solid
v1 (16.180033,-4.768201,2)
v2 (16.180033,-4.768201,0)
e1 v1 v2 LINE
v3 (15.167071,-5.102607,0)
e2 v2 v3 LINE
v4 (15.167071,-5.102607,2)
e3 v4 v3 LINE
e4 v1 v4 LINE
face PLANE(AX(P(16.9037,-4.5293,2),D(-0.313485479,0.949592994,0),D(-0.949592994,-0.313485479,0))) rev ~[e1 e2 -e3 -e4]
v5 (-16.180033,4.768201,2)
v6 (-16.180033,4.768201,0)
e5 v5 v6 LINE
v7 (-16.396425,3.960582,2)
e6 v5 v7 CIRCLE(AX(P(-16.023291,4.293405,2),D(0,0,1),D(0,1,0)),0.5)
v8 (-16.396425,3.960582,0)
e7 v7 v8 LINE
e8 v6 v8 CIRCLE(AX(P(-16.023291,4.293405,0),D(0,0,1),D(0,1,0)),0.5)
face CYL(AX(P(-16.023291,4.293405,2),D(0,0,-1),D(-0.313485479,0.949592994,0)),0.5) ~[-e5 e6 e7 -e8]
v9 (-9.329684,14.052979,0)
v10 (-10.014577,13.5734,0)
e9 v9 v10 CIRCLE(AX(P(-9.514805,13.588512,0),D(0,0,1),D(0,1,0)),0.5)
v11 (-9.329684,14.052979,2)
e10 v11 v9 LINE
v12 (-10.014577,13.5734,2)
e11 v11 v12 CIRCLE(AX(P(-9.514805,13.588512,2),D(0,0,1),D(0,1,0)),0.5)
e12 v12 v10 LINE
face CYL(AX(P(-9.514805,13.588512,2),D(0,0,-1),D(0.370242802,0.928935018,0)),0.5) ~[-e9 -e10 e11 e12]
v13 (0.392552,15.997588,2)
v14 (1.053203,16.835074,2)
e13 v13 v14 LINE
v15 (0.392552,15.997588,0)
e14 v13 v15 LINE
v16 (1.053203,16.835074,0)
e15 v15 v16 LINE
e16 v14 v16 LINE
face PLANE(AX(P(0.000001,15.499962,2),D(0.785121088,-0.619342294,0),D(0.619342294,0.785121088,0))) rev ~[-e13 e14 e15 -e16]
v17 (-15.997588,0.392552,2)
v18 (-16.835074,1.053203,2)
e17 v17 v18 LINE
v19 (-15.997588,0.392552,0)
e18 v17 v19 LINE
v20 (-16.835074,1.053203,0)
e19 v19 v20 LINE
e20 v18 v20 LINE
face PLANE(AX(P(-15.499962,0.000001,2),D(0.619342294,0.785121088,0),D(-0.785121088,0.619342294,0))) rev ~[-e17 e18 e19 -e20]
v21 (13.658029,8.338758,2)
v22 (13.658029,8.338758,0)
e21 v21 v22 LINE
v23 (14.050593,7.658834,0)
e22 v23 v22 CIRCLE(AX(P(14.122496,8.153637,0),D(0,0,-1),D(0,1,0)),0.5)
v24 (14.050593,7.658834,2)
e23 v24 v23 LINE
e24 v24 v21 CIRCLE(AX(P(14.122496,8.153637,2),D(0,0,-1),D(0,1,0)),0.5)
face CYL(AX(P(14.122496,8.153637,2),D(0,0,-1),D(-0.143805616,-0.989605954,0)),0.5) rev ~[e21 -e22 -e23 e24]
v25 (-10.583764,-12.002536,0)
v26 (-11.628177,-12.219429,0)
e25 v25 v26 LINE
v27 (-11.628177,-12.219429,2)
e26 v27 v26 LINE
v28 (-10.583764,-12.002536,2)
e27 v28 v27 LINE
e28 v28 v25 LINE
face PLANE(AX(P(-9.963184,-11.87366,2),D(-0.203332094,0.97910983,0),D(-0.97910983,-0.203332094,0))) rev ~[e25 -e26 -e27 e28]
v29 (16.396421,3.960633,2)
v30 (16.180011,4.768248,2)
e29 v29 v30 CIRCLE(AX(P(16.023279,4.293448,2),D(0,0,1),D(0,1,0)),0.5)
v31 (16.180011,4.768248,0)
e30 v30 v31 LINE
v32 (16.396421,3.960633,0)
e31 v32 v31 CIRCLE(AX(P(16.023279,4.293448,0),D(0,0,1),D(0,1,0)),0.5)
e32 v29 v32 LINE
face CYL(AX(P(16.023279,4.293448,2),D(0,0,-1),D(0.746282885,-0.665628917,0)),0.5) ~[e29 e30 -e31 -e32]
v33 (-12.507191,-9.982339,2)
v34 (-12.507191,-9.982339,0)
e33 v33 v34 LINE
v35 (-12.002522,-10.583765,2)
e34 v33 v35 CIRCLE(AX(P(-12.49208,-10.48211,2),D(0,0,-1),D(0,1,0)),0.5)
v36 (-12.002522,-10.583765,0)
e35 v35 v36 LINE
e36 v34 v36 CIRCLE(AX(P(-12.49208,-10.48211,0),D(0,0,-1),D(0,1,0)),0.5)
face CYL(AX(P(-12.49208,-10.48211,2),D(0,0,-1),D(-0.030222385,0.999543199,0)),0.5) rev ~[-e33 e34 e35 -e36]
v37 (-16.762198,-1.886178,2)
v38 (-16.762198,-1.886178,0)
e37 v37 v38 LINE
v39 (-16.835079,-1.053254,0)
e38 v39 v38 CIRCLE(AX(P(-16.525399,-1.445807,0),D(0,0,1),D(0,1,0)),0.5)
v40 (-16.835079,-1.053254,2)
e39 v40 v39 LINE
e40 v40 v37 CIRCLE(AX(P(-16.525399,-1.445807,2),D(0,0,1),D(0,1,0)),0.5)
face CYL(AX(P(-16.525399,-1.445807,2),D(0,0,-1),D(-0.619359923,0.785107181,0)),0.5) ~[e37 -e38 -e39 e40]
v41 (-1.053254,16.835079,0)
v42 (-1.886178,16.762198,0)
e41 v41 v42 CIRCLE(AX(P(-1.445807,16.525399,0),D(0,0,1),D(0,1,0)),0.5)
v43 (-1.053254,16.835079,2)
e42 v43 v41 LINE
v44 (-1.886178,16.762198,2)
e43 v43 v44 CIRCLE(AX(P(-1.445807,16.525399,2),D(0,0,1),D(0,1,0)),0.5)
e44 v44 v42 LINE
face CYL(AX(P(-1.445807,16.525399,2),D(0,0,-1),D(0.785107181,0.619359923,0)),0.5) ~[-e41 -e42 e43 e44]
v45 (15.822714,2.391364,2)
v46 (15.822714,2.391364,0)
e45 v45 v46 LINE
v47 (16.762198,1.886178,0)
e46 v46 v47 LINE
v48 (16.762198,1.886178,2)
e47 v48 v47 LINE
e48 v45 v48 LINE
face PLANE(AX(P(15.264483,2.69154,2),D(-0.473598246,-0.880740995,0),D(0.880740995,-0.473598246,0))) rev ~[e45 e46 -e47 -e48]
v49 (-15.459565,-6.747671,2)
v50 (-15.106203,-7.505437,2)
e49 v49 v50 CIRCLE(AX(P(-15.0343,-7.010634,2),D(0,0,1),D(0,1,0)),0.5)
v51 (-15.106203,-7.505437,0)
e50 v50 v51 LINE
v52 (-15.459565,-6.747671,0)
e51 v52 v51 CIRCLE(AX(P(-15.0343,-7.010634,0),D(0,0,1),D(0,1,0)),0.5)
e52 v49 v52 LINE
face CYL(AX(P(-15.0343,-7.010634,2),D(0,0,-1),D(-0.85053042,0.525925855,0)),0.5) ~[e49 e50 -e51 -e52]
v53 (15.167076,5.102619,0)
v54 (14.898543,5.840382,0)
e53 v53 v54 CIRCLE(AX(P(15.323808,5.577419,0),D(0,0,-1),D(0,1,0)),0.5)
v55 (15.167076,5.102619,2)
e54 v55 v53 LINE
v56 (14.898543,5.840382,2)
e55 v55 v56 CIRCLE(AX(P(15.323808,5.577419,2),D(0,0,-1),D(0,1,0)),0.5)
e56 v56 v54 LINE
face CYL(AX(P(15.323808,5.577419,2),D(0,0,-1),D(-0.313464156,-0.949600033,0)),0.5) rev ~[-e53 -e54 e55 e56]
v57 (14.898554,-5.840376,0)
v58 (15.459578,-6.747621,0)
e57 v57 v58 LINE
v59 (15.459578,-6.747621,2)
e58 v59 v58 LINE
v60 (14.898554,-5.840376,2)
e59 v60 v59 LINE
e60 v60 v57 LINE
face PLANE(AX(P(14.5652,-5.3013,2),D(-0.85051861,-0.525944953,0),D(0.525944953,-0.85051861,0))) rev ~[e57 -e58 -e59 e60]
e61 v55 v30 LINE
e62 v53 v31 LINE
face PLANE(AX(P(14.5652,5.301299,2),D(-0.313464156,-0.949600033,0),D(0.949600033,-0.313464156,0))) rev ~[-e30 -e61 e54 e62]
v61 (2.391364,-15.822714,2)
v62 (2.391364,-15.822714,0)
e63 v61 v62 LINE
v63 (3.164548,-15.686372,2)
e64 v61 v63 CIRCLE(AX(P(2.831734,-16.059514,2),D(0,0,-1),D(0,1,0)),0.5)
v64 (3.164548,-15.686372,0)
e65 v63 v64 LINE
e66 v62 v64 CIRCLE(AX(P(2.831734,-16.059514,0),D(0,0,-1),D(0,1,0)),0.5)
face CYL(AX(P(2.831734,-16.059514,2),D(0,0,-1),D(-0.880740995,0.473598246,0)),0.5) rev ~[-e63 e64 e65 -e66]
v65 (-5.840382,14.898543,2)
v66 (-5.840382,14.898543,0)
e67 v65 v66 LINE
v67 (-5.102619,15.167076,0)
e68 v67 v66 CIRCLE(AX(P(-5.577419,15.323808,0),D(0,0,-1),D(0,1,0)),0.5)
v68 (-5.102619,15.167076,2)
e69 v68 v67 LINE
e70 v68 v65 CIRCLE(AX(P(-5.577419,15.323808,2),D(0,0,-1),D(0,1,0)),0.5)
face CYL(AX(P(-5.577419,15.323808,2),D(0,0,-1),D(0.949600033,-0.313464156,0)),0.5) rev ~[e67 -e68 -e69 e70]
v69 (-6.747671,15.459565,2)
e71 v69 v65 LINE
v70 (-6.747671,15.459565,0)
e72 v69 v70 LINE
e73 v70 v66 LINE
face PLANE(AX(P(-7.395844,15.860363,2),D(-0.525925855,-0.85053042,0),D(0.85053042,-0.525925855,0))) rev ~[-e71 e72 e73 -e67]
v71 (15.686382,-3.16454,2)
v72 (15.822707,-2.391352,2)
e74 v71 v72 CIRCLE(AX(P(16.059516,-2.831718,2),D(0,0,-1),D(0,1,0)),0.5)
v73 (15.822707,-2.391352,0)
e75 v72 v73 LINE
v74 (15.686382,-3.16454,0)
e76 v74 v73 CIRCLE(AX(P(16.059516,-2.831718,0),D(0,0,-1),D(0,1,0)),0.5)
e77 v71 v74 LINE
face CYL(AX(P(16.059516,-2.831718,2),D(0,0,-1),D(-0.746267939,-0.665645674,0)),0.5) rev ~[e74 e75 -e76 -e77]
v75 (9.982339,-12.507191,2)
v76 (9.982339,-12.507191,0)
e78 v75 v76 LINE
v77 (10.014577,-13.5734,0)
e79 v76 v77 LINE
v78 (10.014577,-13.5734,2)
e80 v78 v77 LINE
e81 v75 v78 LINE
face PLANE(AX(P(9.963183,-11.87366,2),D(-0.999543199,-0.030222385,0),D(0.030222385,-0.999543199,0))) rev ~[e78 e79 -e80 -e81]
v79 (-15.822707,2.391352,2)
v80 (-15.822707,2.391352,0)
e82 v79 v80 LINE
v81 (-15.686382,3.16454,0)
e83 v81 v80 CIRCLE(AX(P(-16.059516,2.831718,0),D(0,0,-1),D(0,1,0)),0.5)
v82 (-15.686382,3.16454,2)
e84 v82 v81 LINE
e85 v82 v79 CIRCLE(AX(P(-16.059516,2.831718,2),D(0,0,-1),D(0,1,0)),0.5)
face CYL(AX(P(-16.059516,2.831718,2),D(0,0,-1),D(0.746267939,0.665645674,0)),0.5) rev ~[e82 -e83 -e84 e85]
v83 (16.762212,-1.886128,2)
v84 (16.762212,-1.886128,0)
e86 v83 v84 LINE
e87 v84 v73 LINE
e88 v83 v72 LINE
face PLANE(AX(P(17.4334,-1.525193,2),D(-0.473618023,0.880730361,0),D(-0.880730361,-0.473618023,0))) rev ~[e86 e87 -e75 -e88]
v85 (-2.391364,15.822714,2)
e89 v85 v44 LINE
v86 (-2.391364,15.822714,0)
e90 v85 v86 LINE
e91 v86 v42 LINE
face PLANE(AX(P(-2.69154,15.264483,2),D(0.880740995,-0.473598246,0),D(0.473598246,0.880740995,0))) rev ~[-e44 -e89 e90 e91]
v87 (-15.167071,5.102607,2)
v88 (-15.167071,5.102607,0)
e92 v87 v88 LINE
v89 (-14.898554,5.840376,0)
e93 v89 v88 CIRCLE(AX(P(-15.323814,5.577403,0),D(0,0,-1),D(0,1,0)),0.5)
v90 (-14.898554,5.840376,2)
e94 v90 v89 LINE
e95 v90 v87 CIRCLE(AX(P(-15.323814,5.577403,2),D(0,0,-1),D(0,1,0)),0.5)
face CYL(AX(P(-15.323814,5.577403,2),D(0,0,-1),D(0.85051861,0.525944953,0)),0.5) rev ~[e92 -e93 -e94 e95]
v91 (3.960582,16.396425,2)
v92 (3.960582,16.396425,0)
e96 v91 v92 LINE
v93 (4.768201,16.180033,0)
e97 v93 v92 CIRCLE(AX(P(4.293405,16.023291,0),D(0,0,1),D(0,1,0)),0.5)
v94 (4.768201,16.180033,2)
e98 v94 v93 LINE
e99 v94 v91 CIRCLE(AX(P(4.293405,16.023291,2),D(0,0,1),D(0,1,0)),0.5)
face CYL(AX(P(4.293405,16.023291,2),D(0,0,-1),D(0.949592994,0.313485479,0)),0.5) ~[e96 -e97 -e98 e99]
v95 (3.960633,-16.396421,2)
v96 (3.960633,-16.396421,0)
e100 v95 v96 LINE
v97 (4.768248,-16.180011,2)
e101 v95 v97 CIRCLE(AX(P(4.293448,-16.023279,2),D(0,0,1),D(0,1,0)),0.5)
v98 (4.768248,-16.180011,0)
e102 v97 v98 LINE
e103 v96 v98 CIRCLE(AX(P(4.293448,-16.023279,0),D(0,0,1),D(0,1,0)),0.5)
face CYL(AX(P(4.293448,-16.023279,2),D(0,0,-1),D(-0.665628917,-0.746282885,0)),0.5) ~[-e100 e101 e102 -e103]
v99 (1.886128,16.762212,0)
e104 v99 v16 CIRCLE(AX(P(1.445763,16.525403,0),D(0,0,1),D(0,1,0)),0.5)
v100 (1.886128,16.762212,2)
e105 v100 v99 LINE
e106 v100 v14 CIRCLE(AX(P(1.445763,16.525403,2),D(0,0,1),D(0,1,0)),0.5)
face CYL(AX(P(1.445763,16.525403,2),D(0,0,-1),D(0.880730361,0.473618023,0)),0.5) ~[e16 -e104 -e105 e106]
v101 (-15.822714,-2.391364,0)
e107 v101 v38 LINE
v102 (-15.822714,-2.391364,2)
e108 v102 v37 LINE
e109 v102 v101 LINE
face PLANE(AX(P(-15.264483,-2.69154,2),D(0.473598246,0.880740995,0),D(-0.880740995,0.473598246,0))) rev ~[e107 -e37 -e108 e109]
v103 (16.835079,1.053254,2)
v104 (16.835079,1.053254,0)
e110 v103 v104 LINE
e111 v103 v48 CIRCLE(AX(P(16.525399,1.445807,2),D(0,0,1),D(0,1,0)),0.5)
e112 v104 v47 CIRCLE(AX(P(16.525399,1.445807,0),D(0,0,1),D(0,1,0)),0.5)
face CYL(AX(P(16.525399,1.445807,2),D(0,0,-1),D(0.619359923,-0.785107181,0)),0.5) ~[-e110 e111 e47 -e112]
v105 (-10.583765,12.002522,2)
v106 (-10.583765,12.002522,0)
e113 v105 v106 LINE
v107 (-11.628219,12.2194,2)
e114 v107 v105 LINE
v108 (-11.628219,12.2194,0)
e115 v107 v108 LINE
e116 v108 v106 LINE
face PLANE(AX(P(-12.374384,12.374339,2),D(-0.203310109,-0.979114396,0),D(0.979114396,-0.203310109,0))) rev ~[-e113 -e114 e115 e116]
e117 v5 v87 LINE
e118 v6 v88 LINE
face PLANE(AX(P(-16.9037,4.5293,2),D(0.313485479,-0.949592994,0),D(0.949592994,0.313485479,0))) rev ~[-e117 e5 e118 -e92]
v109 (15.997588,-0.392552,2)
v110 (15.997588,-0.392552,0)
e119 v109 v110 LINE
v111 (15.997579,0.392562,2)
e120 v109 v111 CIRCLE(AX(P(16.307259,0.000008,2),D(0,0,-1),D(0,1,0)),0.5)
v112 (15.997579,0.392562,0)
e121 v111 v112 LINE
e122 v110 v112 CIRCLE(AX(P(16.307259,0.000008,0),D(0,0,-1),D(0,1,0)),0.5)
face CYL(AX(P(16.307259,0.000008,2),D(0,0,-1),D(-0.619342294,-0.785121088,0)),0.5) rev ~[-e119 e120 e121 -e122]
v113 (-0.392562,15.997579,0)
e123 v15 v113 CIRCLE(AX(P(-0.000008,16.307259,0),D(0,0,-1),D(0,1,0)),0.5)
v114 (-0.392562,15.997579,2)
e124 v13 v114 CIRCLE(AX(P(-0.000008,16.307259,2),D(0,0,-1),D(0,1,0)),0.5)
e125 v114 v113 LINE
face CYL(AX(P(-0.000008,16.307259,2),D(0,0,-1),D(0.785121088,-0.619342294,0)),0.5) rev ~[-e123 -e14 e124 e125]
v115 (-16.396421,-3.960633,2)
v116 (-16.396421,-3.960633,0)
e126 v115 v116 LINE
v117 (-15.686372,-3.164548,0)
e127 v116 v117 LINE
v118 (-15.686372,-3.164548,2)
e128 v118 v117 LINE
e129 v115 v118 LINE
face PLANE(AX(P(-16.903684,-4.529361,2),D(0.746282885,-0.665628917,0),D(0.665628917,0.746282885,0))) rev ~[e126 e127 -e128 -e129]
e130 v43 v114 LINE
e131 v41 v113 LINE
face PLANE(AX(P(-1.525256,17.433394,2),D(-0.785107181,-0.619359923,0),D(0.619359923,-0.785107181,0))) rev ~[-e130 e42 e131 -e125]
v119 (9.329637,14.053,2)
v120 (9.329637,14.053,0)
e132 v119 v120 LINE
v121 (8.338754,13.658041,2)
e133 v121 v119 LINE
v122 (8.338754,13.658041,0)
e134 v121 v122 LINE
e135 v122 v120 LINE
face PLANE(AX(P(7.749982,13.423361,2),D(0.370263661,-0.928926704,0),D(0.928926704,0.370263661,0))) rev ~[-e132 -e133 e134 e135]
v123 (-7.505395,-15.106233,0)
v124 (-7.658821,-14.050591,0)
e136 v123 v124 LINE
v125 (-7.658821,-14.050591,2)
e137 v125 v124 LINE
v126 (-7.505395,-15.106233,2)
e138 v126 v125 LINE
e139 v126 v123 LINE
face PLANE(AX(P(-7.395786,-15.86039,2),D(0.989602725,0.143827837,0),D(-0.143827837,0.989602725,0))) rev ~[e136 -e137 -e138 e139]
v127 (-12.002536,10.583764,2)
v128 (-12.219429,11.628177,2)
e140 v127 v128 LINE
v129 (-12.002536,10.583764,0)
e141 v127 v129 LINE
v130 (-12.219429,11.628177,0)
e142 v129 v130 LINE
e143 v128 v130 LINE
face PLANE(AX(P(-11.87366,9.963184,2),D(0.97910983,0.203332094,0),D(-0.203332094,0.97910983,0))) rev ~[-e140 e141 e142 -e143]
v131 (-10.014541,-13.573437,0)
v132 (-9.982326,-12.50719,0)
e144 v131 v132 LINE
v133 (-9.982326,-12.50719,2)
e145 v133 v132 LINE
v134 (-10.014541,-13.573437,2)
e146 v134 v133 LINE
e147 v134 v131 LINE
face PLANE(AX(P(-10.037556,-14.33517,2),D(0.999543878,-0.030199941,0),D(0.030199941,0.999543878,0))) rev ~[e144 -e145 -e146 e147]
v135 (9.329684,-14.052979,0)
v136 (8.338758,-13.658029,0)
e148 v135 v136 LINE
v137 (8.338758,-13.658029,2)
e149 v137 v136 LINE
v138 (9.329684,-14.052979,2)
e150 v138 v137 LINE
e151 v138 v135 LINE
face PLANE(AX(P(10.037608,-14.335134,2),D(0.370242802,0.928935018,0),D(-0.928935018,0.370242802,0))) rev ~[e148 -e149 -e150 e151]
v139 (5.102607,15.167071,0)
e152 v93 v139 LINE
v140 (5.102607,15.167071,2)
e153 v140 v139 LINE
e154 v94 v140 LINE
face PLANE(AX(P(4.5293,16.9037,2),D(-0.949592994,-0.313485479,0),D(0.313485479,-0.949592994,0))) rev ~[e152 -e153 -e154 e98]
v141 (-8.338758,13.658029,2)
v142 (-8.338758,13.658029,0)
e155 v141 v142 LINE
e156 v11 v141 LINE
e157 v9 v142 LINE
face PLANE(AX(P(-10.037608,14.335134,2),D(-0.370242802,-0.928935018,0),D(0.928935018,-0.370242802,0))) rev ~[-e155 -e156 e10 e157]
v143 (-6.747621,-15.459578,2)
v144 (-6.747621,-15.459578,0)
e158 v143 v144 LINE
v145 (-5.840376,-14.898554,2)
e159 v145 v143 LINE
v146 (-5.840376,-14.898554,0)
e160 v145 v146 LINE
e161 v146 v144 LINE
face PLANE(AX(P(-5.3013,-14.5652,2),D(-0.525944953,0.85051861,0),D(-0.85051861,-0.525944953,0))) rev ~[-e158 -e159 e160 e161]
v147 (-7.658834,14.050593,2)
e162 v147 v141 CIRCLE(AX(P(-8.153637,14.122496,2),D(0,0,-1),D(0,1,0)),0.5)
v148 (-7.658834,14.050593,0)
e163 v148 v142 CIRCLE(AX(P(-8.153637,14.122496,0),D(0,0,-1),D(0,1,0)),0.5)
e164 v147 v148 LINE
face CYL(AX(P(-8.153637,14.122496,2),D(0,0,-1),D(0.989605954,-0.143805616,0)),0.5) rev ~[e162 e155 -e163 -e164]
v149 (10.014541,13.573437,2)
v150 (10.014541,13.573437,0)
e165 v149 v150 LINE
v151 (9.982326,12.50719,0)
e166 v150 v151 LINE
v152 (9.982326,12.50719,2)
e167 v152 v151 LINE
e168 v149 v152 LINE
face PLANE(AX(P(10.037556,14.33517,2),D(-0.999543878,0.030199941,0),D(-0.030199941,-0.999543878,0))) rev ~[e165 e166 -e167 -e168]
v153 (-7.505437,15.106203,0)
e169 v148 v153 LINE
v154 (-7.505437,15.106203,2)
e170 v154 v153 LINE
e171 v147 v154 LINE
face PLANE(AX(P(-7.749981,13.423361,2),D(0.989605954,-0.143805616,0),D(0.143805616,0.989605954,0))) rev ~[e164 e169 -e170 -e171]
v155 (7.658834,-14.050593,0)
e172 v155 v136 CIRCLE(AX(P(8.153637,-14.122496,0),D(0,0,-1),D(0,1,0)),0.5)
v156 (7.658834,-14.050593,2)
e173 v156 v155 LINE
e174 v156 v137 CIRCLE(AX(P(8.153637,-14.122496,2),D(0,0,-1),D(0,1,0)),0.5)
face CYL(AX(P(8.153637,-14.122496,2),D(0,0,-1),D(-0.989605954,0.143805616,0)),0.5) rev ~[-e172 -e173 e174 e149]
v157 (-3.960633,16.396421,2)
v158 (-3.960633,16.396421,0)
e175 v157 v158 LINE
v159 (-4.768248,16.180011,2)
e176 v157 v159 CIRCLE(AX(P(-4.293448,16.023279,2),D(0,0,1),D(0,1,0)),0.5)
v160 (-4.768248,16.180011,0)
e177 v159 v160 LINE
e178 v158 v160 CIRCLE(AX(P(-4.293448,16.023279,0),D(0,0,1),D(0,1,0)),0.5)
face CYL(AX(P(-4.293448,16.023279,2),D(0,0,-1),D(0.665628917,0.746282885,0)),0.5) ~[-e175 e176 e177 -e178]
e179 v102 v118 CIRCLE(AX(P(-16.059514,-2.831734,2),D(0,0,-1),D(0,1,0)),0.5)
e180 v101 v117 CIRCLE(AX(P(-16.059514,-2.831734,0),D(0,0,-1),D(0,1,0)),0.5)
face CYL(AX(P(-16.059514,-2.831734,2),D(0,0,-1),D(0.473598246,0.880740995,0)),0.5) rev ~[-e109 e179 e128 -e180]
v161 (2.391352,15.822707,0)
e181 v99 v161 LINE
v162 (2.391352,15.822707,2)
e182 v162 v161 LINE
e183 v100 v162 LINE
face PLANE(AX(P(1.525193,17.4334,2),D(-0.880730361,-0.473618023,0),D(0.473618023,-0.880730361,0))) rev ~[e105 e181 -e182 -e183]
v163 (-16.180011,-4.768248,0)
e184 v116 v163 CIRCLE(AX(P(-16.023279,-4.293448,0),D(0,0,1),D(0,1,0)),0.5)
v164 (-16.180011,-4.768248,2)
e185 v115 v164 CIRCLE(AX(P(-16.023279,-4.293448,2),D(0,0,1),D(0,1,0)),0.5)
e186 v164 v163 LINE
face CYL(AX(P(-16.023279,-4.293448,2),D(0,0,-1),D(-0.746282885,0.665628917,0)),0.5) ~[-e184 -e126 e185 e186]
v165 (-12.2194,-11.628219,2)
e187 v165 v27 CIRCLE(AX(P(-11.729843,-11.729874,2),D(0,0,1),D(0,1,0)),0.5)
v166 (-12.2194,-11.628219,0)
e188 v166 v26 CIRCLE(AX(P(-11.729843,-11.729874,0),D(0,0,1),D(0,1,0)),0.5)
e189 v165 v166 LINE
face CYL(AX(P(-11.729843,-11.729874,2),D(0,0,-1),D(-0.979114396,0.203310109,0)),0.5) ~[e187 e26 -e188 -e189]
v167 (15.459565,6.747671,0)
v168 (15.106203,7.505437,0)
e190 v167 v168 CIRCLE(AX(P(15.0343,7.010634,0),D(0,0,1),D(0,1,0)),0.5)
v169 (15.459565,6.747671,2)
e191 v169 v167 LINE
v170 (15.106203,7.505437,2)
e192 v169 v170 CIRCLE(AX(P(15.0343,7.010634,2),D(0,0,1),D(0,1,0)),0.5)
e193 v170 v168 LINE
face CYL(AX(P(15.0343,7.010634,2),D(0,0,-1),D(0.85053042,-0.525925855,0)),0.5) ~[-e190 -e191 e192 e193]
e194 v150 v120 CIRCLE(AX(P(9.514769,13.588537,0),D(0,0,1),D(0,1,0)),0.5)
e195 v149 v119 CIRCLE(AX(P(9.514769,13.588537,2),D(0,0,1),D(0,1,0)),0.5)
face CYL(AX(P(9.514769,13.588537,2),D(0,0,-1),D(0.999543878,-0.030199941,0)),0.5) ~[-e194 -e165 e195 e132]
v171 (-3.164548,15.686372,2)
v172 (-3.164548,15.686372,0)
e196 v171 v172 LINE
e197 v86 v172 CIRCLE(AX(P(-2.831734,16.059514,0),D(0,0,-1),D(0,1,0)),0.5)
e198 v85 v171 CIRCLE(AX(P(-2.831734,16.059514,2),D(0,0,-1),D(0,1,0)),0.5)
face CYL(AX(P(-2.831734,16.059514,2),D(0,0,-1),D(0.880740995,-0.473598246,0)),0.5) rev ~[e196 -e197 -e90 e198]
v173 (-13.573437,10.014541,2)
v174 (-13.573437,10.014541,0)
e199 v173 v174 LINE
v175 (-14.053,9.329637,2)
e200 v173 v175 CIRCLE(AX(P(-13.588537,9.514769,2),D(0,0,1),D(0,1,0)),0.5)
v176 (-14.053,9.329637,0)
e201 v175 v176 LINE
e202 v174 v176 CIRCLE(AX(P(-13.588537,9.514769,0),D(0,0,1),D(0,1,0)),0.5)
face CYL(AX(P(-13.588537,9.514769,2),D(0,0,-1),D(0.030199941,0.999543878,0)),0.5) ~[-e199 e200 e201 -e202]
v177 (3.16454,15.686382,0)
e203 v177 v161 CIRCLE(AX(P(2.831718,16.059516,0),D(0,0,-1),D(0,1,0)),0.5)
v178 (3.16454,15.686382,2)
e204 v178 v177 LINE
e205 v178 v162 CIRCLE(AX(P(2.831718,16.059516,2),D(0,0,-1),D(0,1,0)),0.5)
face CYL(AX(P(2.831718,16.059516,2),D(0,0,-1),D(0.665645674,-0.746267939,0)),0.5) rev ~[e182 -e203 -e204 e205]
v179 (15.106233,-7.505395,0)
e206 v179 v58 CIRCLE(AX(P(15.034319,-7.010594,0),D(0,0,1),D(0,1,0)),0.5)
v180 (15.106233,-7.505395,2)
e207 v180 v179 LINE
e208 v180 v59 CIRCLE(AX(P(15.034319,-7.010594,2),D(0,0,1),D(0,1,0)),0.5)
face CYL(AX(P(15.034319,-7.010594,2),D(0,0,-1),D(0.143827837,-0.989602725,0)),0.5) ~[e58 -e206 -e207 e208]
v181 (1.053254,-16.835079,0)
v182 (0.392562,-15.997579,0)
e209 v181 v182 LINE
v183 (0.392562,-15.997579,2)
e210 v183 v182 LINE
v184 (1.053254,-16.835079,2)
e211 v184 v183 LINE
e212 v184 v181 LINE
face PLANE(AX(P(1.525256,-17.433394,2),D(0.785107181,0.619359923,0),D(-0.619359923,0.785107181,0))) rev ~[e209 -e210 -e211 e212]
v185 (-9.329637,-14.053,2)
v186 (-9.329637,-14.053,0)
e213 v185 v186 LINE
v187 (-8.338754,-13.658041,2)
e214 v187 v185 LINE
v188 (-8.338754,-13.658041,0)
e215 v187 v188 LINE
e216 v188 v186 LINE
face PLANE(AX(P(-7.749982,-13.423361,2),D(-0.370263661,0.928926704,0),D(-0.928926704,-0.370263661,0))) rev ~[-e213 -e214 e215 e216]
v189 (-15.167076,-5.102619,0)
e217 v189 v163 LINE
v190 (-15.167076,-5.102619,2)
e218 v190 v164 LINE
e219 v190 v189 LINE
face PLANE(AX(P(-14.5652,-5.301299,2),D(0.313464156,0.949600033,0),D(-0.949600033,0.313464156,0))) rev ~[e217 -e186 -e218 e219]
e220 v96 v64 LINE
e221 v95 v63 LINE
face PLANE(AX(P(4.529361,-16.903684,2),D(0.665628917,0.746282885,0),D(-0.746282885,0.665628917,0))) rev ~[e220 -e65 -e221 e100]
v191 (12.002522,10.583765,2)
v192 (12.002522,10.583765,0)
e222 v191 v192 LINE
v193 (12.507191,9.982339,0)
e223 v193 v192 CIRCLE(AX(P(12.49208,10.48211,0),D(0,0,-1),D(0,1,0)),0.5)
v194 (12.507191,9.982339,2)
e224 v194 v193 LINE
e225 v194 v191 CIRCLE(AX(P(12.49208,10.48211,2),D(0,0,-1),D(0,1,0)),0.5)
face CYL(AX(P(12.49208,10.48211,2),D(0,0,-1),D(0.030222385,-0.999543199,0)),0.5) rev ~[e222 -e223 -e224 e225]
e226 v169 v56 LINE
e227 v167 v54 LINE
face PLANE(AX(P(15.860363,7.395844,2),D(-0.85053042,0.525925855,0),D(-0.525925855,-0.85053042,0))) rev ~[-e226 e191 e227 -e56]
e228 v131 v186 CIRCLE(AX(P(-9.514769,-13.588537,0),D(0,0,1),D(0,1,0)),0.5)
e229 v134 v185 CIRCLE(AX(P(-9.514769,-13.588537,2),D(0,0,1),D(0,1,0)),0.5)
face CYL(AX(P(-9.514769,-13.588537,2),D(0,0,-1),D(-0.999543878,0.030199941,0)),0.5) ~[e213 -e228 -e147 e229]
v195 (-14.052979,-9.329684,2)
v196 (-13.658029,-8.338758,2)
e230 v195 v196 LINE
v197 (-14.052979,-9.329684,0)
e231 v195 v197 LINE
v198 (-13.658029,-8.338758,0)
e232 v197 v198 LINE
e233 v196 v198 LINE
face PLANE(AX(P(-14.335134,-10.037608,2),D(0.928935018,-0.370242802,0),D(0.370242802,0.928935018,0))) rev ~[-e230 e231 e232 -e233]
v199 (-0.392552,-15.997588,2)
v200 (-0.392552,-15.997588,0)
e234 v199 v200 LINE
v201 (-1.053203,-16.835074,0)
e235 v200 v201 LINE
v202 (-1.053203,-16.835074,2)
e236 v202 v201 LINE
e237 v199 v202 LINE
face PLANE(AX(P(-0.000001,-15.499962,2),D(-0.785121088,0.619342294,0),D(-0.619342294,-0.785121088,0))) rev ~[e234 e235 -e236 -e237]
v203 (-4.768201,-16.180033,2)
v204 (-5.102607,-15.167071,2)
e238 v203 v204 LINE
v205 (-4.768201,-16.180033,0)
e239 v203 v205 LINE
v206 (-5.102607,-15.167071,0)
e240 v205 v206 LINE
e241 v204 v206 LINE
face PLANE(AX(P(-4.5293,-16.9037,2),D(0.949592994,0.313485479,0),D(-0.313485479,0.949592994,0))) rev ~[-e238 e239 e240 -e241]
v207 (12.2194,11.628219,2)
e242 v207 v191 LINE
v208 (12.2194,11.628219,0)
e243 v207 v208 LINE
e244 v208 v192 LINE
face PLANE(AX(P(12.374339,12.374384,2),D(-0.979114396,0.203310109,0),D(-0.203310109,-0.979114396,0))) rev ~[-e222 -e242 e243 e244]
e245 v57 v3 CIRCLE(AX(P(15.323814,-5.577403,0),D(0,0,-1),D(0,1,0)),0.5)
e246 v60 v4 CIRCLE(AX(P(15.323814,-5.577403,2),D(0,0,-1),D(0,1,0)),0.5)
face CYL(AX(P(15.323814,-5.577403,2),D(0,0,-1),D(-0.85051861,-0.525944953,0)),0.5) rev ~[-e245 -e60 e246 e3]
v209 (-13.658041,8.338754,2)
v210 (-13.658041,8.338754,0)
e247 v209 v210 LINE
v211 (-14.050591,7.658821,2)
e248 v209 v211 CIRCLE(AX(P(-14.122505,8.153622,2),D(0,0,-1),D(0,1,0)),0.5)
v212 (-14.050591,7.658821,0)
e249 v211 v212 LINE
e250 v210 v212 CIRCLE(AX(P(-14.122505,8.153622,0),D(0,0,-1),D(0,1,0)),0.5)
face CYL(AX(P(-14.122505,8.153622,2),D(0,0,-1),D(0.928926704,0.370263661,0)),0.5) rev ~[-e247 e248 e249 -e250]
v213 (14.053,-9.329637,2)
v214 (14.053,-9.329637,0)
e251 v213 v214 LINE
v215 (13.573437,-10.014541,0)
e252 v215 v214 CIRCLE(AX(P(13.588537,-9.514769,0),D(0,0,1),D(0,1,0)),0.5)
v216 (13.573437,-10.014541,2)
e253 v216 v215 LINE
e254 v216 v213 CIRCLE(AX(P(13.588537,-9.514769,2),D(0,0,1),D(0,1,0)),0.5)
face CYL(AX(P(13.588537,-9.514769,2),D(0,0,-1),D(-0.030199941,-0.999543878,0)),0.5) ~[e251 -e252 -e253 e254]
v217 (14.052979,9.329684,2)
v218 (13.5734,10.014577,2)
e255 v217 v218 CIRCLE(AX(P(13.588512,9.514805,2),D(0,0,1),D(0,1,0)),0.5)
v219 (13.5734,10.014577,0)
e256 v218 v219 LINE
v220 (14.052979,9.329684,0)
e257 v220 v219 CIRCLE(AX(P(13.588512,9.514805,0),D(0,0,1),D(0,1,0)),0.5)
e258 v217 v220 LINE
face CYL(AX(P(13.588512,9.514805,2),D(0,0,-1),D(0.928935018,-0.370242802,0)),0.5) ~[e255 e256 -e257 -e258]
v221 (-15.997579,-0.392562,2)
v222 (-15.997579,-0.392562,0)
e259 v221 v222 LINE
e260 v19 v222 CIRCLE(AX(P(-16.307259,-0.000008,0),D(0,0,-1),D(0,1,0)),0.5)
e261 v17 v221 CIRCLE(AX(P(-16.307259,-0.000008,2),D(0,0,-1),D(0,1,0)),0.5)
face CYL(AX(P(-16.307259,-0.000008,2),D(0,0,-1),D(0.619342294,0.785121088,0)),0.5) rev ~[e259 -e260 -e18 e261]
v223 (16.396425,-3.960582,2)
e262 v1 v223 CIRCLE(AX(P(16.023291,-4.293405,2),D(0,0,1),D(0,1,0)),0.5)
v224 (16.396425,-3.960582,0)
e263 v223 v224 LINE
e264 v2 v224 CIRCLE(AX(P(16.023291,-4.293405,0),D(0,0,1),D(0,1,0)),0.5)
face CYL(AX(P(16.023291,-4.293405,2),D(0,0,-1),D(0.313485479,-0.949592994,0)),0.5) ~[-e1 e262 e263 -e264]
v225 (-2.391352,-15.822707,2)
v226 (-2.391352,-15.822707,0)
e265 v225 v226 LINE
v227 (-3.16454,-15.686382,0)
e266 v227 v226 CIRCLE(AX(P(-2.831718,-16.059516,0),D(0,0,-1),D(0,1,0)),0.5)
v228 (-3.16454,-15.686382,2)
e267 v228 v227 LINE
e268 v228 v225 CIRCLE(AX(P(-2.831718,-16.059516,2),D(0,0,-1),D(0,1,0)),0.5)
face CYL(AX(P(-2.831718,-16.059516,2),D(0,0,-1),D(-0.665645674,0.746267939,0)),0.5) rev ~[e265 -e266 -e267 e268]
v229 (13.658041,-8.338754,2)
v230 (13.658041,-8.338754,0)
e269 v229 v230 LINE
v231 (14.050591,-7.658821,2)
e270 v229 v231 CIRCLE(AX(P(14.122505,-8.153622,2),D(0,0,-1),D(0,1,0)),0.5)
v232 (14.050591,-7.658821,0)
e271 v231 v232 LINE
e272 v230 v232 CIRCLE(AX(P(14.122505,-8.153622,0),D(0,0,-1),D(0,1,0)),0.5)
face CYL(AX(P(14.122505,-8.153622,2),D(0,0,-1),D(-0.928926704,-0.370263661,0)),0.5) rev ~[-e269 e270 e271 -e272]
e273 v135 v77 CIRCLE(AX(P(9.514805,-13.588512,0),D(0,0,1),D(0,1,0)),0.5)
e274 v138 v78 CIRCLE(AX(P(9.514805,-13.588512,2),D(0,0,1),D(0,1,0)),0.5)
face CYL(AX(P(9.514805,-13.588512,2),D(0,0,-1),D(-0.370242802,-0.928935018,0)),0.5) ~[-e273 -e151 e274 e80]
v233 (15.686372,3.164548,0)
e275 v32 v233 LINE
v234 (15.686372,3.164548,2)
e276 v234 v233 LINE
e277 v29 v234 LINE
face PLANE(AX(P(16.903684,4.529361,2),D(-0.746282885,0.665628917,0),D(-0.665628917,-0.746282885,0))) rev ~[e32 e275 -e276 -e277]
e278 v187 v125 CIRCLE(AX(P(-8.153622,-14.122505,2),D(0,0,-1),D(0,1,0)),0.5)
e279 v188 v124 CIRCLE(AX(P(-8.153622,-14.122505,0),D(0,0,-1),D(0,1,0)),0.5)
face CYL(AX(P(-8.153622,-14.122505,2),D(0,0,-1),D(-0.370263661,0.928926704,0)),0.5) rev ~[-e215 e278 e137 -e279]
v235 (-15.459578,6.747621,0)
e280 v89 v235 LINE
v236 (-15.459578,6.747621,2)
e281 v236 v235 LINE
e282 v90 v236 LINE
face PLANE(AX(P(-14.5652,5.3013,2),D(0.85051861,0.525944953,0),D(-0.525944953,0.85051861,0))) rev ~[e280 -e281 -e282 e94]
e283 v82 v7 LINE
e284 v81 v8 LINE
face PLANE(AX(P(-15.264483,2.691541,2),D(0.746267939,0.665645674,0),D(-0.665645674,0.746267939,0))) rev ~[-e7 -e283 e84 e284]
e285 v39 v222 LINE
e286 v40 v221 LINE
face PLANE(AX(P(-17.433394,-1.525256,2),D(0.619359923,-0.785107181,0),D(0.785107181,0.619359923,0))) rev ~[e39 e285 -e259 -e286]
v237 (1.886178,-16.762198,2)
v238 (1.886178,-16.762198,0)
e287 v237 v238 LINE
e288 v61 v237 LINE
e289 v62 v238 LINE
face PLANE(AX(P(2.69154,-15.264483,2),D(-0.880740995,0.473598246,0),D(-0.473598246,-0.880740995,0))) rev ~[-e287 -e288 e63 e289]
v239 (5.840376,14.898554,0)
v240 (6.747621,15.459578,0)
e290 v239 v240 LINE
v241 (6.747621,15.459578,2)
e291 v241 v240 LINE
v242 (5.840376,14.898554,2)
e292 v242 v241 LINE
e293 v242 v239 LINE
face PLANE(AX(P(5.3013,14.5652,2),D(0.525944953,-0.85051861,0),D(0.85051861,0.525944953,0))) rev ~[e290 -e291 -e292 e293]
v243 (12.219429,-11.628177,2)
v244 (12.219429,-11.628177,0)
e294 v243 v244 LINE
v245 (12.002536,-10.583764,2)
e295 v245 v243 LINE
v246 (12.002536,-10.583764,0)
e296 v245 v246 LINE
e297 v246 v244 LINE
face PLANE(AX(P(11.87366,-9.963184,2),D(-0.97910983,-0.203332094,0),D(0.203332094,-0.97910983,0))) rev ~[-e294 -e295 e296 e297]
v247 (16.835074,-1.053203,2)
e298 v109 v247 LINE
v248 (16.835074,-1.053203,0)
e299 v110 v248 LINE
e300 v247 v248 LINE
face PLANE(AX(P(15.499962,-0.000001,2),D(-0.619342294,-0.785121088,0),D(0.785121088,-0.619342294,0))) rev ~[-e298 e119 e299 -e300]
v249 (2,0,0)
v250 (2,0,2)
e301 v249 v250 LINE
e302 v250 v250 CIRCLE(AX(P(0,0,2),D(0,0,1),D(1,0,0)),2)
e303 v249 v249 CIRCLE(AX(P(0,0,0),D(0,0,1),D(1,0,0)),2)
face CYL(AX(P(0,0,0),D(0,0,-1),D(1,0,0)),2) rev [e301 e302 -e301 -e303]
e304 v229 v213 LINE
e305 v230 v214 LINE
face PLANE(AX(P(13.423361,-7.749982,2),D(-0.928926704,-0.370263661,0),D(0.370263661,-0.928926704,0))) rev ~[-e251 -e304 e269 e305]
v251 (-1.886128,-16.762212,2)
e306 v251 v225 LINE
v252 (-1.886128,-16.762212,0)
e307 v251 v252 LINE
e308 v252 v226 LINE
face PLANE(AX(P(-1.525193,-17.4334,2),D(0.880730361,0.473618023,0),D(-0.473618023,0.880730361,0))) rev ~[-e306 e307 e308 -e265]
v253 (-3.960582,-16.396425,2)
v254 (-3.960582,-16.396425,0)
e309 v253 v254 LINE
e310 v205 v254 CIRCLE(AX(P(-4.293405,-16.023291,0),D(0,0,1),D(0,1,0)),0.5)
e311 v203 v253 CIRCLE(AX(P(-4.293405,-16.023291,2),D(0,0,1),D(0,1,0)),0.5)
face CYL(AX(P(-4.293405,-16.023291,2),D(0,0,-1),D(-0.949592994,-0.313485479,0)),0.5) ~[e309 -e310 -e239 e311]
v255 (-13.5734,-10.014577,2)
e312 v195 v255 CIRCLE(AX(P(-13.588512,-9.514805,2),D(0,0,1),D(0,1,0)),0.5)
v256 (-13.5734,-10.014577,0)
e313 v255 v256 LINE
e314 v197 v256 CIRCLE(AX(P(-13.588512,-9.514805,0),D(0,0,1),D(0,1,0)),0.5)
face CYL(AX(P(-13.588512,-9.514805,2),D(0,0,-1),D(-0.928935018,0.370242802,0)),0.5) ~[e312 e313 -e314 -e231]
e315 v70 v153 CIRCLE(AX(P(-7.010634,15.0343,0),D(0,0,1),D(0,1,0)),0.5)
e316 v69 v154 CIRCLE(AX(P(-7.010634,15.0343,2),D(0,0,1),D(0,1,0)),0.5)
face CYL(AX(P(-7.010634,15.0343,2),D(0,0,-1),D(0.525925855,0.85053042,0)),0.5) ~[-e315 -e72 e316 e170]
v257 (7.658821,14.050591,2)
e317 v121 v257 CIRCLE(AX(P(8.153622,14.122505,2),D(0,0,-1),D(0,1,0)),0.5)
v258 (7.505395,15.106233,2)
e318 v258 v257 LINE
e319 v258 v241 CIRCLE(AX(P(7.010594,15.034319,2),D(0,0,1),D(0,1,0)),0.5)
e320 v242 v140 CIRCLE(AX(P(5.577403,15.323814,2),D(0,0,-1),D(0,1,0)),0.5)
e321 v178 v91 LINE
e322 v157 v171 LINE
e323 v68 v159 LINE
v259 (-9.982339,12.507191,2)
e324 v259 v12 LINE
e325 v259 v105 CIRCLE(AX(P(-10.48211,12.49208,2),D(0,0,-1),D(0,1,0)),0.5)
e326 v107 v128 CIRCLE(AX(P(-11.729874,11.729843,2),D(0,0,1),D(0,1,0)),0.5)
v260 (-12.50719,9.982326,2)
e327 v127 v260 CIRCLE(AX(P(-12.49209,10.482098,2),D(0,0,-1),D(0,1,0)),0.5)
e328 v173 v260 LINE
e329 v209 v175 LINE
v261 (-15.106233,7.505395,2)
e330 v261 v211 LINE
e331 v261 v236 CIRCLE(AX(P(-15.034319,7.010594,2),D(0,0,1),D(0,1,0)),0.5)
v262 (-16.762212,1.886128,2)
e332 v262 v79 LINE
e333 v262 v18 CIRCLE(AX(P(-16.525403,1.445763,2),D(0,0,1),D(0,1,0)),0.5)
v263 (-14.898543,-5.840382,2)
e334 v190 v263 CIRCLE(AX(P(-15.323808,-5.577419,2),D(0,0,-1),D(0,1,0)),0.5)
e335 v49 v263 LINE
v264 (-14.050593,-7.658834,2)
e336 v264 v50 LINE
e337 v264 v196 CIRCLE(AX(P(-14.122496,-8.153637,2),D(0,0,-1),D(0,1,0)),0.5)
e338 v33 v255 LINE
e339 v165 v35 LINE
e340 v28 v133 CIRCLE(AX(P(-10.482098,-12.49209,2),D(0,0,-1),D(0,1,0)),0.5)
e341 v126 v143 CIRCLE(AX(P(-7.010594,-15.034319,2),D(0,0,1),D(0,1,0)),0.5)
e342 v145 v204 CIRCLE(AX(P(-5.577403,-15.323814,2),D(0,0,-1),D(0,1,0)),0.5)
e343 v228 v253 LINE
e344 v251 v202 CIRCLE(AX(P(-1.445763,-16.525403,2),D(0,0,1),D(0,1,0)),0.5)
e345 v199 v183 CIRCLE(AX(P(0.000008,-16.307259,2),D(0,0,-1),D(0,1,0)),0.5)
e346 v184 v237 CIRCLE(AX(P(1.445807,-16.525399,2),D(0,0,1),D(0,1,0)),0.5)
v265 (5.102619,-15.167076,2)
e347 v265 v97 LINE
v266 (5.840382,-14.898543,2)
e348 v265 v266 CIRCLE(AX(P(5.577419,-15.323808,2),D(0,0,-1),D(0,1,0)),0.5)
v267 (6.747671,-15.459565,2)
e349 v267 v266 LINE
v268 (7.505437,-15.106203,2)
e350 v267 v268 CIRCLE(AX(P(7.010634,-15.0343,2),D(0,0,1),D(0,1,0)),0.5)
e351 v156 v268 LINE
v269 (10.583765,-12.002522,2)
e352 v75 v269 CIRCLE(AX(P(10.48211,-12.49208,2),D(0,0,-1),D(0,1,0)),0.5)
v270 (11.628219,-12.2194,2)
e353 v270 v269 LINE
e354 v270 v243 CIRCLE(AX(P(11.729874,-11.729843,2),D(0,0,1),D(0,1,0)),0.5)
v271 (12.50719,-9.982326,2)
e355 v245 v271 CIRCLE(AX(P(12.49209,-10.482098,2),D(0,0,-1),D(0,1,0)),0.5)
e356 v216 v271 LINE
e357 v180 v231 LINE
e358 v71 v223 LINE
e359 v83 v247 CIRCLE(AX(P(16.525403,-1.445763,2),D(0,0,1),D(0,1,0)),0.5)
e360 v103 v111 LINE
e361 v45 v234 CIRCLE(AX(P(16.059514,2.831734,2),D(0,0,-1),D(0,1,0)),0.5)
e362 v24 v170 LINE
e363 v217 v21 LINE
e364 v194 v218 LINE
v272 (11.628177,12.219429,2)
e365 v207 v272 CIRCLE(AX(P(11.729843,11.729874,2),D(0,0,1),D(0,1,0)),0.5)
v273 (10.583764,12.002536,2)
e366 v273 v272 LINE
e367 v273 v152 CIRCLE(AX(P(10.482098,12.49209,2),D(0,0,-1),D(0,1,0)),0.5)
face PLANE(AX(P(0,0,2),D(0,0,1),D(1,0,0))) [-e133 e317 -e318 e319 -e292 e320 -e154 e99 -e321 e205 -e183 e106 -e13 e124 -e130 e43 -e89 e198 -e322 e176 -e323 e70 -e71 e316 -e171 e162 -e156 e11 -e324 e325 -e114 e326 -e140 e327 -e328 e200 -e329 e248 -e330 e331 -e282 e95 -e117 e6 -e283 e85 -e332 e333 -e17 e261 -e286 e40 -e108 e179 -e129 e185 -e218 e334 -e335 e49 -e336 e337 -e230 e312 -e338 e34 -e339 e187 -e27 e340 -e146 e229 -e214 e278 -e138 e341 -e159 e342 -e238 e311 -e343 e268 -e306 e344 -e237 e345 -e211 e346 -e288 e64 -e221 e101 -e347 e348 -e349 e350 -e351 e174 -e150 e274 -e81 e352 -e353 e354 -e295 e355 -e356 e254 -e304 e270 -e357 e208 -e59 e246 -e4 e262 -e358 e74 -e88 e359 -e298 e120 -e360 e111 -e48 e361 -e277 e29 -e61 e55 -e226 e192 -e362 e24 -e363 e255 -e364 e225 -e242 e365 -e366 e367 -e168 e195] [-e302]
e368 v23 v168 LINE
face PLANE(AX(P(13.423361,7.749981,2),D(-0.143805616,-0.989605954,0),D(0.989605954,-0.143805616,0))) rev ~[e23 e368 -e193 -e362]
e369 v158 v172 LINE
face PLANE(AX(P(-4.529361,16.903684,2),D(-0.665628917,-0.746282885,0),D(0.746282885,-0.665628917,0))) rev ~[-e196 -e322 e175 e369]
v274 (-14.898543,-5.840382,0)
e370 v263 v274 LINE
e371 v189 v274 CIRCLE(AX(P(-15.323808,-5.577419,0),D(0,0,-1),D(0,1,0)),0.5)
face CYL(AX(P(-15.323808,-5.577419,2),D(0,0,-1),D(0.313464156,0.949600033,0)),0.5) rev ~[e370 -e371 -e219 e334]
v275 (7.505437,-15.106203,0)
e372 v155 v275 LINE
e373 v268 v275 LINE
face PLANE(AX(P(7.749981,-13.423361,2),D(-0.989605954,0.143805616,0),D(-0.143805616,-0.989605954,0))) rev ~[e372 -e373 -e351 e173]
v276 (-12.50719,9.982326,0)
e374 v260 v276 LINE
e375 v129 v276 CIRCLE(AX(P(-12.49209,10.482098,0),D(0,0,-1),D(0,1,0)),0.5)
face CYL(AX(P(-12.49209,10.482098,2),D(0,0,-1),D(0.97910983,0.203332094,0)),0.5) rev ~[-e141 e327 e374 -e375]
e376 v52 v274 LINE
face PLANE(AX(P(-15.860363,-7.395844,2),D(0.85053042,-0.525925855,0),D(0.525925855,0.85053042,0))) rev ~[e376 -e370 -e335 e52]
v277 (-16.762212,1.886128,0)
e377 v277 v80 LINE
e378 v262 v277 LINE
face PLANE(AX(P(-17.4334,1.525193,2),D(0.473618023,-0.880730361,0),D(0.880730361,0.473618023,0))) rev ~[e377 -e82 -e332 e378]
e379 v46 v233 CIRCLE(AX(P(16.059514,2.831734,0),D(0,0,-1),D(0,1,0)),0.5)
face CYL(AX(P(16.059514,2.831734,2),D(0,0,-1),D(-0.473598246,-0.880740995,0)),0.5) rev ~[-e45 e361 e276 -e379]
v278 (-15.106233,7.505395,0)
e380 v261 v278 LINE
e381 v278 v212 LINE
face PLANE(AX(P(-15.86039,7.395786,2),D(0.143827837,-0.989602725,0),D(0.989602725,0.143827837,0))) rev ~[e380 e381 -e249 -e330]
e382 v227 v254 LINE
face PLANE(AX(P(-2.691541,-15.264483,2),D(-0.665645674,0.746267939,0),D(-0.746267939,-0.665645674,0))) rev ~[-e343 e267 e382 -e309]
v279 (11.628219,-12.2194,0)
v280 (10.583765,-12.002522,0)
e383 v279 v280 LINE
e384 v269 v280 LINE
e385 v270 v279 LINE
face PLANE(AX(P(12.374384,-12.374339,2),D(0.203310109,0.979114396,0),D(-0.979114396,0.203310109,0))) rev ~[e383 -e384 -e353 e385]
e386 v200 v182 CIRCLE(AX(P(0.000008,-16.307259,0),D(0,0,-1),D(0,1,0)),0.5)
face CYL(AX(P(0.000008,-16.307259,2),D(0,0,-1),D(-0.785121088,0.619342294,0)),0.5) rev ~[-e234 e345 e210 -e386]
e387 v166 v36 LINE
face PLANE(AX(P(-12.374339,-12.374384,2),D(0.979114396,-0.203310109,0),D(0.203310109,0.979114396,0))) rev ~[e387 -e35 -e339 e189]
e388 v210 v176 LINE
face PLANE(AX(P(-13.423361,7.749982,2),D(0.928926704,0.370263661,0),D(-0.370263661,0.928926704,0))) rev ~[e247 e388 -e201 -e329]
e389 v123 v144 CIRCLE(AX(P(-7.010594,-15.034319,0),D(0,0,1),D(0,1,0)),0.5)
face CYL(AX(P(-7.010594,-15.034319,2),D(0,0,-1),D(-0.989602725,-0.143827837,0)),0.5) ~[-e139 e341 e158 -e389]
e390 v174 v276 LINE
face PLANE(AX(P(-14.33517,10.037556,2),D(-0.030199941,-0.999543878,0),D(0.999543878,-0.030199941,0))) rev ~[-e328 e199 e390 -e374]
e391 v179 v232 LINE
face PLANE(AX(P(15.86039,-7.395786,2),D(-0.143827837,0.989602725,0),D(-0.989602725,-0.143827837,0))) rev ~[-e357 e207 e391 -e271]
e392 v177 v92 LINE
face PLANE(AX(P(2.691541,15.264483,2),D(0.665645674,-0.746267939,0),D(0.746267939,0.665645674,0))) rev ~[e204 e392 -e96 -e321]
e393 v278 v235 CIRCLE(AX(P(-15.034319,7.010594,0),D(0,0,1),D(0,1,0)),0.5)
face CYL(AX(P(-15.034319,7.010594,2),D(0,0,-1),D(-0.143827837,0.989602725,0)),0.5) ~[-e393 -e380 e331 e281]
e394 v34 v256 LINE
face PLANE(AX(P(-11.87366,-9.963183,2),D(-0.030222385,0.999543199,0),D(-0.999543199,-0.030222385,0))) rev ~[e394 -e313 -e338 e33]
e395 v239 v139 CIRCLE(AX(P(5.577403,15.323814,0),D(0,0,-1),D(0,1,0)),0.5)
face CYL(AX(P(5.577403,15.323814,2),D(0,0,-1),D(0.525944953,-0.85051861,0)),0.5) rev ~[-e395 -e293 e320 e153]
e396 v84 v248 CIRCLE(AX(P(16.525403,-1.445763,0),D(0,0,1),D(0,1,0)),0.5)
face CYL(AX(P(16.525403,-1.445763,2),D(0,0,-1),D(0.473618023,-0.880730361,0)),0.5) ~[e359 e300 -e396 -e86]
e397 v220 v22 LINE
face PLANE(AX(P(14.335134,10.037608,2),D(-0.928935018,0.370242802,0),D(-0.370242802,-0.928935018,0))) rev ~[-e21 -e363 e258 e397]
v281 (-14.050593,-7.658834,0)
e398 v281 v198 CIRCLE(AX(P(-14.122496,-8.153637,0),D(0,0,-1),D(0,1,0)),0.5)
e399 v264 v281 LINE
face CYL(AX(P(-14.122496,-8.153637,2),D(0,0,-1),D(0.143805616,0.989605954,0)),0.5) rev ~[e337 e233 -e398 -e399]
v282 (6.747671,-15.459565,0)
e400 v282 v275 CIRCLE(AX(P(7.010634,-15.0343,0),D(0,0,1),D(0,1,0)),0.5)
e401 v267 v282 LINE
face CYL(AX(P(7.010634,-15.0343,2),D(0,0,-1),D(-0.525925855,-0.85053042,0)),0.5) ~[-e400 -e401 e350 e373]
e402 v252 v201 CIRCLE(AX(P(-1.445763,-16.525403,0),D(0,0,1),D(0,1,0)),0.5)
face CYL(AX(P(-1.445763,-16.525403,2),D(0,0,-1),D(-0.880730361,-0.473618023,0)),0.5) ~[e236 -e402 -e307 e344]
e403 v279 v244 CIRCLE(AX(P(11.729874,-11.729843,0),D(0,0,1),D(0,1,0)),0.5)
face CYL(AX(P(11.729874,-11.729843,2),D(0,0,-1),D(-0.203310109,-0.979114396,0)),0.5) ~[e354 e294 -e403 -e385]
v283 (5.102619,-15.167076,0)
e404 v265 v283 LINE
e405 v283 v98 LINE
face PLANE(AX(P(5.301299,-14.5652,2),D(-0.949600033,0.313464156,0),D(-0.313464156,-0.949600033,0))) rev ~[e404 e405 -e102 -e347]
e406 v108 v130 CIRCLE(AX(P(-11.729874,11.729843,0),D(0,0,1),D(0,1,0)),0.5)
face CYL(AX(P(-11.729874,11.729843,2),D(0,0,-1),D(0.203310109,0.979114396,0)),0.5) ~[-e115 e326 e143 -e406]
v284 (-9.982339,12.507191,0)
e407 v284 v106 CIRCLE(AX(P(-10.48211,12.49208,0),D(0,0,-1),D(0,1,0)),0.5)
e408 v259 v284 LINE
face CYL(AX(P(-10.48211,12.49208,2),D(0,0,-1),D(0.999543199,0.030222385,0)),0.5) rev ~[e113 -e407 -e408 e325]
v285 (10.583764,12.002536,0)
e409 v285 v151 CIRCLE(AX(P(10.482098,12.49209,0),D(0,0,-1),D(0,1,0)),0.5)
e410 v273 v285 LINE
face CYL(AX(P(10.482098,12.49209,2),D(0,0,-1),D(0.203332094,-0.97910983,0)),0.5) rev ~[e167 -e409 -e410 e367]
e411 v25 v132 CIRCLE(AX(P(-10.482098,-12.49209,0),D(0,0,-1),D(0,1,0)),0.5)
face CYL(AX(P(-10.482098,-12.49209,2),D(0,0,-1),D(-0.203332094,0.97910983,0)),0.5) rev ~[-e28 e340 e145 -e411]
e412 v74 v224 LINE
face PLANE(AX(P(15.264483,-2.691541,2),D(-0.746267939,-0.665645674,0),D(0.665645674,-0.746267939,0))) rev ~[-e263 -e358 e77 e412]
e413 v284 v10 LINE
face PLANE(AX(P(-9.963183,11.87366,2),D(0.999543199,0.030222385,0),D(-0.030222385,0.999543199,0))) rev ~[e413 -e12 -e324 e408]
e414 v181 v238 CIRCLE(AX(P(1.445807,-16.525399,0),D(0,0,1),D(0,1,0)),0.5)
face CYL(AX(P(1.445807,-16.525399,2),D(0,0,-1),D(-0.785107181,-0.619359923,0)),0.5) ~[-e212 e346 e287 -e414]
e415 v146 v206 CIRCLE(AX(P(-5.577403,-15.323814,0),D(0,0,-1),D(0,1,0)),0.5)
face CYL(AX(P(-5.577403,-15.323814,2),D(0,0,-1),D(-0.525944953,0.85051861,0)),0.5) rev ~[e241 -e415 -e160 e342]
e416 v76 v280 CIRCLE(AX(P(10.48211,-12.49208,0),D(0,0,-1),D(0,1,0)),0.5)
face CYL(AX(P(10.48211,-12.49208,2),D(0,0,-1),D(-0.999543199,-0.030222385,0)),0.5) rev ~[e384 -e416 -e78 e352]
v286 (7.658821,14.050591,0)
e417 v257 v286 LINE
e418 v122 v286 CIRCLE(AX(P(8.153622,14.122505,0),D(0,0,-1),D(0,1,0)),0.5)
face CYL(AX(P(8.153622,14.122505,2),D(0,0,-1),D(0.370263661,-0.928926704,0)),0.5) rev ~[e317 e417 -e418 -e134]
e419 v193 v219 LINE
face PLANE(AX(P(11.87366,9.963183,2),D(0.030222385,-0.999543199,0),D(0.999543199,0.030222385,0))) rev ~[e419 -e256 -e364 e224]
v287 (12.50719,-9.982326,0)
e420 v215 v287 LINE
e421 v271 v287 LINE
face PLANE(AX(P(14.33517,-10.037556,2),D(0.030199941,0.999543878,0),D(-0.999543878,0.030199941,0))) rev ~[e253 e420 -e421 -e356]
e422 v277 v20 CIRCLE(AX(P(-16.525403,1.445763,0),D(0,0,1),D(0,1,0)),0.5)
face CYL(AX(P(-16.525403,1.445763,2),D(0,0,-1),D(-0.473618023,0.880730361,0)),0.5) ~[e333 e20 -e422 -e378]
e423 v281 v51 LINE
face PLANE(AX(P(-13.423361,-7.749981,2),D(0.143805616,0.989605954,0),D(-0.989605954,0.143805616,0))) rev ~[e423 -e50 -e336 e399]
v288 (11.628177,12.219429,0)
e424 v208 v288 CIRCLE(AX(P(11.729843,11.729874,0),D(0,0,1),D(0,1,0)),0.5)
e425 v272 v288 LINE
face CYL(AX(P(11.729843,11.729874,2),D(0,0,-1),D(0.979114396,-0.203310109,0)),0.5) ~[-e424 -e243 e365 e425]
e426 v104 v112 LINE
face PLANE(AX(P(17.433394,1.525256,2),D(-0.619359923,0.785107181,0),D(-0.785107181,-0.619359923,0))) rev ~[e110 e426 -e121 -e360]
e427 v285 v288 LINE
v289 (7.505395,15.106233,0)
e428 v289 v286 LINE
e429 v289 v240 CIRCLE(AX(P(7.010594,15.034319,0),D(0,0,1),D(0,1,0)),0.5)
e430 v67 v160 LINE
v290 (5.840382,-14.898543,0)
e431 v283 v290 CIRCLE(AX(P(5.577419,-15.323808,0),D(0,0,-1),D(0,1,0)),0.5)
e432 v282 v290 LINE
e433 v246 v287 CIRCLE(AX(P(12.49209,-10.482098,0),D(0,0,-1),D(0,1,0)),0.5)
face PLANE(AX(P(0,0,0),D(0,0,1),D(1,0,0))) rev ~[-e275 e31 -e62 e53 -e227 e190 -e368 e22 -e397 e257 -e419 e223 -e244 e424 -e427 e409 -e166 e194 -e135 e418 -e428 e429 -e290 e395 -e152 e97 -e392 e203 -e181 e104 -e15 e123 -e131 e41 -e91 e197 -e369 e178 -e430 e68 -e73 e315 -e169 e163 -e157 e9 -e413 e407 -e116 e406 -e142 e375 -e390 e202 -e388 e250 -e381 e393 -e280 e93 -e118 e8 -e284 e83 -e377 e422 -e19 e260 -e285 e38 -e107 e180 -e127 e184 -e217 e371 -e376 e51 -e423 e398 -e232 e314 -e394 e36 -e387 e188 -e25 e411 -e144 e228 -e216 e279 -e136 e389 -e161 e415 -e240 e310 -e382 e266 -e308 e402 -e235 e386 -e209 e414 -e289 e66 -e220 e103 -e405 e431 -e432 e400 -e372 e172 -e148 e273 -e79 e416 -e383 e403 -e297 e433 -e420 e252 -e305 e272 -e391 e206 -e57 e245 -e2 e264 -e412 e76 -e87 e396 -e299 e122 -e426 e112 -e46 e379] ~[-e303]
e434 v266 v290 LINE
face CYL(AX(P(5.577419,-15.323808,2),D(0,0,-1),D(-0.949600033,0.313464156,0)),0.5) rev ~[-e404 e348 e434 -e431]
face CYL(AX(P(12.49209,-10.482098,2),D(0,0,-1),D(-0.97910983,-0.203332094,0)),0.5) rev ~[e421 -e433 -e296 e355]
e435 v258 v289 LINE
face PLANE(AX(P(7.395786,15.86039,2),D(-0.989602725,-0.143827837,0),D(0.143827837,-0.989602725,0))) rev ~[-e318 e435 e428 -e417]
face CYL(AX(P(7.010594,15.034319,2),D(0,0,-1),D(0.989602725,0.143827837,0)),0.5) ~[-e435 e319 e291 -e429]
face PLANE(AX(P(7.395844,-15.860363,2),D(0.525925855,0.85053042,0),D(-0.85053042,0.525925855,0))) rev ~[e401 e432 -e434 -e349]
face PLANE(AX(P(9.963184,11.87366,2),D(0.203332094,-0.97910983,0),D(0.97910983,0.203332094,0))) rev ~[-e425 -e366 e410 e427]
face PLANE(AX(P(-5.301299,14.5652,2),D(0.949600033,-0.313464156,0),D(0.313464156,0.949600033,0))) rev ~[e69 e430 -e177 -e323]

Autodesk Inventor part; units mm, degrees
ref_plane "YZ Plane" through (0, 0, 0) normal (1, 0, 0) x (0, 1, 0)
ref_plane "XZ Plane" through (0, 0, 0) normal (0, 1, 0) x (-1, 0, 0)
ref_plane "XY Plane" through (0, 0, 0) normal (0, 0, 1) x (1, 0, 0)
sketch "Sketch1" plane through (0, 0, 0) normal (0, 0, 1) x (1, 0, 0)
  circle A0 centre (0, 0) radius 17.5
  circle A1 centre (0, 0) radius 2
  dimension "d0" = 35
  dimension "d1" = 4
extrude "Extrusion1" add sketch "Sketch1" along normal blind 2
sketch "Sketch2" plane through (0, 0, 2) normal (0, 0, 1) x (1, 0, 0)
  circle A0 centre (0, 0) radius 17.5 projected
  line L0 (0, 0) -> (7.3958, 15.8604) construction
  line L1 (0, 0) -> (4.5293, 16.9037) construction
  line L2 (4.5293, 16.9037) -> (5.3013, 14.5652)
  line L3 (5.3013, 14.5652) -> (7.3958, 15.8604)
  circle A1 centre (0, 0) radius 15.5 construction
  line L4 (0, 0) -> (5.3013, 14.5652) construction
  line L5 (0, 0) -> (0, 7.7829) construction
  arc A2 (7.3958, 15.8604) -> (4.5293, 16.9037) centre (0, 0) ccw
  dimension "d4" = 10
  dimension "d5" = 2
  dimension "d6" = 5
  dimension "d7" = 20
extrude "Extrusion2" cut sketch "Sketch2" against normal through all contours L3 L2 A0 picked at (5.1117, 16.0269)
pattern_circular "Circular Pattern1" count 36 over 360 about axis through (0, 0, 0) along (0, 0, 1) of "Extrusion2"
fillet "Fillet1" radius 0.5 2 edges at (5.3013, 14.5652, 1) (4.5293, 16.9037, 1)
pattern_circular "Circular Pattern2" count 36 over 360 about axis through (0, 0, 0) along (0, 0, 1) of "Fillet1"
properties part number "Kugghjul 4mm"
